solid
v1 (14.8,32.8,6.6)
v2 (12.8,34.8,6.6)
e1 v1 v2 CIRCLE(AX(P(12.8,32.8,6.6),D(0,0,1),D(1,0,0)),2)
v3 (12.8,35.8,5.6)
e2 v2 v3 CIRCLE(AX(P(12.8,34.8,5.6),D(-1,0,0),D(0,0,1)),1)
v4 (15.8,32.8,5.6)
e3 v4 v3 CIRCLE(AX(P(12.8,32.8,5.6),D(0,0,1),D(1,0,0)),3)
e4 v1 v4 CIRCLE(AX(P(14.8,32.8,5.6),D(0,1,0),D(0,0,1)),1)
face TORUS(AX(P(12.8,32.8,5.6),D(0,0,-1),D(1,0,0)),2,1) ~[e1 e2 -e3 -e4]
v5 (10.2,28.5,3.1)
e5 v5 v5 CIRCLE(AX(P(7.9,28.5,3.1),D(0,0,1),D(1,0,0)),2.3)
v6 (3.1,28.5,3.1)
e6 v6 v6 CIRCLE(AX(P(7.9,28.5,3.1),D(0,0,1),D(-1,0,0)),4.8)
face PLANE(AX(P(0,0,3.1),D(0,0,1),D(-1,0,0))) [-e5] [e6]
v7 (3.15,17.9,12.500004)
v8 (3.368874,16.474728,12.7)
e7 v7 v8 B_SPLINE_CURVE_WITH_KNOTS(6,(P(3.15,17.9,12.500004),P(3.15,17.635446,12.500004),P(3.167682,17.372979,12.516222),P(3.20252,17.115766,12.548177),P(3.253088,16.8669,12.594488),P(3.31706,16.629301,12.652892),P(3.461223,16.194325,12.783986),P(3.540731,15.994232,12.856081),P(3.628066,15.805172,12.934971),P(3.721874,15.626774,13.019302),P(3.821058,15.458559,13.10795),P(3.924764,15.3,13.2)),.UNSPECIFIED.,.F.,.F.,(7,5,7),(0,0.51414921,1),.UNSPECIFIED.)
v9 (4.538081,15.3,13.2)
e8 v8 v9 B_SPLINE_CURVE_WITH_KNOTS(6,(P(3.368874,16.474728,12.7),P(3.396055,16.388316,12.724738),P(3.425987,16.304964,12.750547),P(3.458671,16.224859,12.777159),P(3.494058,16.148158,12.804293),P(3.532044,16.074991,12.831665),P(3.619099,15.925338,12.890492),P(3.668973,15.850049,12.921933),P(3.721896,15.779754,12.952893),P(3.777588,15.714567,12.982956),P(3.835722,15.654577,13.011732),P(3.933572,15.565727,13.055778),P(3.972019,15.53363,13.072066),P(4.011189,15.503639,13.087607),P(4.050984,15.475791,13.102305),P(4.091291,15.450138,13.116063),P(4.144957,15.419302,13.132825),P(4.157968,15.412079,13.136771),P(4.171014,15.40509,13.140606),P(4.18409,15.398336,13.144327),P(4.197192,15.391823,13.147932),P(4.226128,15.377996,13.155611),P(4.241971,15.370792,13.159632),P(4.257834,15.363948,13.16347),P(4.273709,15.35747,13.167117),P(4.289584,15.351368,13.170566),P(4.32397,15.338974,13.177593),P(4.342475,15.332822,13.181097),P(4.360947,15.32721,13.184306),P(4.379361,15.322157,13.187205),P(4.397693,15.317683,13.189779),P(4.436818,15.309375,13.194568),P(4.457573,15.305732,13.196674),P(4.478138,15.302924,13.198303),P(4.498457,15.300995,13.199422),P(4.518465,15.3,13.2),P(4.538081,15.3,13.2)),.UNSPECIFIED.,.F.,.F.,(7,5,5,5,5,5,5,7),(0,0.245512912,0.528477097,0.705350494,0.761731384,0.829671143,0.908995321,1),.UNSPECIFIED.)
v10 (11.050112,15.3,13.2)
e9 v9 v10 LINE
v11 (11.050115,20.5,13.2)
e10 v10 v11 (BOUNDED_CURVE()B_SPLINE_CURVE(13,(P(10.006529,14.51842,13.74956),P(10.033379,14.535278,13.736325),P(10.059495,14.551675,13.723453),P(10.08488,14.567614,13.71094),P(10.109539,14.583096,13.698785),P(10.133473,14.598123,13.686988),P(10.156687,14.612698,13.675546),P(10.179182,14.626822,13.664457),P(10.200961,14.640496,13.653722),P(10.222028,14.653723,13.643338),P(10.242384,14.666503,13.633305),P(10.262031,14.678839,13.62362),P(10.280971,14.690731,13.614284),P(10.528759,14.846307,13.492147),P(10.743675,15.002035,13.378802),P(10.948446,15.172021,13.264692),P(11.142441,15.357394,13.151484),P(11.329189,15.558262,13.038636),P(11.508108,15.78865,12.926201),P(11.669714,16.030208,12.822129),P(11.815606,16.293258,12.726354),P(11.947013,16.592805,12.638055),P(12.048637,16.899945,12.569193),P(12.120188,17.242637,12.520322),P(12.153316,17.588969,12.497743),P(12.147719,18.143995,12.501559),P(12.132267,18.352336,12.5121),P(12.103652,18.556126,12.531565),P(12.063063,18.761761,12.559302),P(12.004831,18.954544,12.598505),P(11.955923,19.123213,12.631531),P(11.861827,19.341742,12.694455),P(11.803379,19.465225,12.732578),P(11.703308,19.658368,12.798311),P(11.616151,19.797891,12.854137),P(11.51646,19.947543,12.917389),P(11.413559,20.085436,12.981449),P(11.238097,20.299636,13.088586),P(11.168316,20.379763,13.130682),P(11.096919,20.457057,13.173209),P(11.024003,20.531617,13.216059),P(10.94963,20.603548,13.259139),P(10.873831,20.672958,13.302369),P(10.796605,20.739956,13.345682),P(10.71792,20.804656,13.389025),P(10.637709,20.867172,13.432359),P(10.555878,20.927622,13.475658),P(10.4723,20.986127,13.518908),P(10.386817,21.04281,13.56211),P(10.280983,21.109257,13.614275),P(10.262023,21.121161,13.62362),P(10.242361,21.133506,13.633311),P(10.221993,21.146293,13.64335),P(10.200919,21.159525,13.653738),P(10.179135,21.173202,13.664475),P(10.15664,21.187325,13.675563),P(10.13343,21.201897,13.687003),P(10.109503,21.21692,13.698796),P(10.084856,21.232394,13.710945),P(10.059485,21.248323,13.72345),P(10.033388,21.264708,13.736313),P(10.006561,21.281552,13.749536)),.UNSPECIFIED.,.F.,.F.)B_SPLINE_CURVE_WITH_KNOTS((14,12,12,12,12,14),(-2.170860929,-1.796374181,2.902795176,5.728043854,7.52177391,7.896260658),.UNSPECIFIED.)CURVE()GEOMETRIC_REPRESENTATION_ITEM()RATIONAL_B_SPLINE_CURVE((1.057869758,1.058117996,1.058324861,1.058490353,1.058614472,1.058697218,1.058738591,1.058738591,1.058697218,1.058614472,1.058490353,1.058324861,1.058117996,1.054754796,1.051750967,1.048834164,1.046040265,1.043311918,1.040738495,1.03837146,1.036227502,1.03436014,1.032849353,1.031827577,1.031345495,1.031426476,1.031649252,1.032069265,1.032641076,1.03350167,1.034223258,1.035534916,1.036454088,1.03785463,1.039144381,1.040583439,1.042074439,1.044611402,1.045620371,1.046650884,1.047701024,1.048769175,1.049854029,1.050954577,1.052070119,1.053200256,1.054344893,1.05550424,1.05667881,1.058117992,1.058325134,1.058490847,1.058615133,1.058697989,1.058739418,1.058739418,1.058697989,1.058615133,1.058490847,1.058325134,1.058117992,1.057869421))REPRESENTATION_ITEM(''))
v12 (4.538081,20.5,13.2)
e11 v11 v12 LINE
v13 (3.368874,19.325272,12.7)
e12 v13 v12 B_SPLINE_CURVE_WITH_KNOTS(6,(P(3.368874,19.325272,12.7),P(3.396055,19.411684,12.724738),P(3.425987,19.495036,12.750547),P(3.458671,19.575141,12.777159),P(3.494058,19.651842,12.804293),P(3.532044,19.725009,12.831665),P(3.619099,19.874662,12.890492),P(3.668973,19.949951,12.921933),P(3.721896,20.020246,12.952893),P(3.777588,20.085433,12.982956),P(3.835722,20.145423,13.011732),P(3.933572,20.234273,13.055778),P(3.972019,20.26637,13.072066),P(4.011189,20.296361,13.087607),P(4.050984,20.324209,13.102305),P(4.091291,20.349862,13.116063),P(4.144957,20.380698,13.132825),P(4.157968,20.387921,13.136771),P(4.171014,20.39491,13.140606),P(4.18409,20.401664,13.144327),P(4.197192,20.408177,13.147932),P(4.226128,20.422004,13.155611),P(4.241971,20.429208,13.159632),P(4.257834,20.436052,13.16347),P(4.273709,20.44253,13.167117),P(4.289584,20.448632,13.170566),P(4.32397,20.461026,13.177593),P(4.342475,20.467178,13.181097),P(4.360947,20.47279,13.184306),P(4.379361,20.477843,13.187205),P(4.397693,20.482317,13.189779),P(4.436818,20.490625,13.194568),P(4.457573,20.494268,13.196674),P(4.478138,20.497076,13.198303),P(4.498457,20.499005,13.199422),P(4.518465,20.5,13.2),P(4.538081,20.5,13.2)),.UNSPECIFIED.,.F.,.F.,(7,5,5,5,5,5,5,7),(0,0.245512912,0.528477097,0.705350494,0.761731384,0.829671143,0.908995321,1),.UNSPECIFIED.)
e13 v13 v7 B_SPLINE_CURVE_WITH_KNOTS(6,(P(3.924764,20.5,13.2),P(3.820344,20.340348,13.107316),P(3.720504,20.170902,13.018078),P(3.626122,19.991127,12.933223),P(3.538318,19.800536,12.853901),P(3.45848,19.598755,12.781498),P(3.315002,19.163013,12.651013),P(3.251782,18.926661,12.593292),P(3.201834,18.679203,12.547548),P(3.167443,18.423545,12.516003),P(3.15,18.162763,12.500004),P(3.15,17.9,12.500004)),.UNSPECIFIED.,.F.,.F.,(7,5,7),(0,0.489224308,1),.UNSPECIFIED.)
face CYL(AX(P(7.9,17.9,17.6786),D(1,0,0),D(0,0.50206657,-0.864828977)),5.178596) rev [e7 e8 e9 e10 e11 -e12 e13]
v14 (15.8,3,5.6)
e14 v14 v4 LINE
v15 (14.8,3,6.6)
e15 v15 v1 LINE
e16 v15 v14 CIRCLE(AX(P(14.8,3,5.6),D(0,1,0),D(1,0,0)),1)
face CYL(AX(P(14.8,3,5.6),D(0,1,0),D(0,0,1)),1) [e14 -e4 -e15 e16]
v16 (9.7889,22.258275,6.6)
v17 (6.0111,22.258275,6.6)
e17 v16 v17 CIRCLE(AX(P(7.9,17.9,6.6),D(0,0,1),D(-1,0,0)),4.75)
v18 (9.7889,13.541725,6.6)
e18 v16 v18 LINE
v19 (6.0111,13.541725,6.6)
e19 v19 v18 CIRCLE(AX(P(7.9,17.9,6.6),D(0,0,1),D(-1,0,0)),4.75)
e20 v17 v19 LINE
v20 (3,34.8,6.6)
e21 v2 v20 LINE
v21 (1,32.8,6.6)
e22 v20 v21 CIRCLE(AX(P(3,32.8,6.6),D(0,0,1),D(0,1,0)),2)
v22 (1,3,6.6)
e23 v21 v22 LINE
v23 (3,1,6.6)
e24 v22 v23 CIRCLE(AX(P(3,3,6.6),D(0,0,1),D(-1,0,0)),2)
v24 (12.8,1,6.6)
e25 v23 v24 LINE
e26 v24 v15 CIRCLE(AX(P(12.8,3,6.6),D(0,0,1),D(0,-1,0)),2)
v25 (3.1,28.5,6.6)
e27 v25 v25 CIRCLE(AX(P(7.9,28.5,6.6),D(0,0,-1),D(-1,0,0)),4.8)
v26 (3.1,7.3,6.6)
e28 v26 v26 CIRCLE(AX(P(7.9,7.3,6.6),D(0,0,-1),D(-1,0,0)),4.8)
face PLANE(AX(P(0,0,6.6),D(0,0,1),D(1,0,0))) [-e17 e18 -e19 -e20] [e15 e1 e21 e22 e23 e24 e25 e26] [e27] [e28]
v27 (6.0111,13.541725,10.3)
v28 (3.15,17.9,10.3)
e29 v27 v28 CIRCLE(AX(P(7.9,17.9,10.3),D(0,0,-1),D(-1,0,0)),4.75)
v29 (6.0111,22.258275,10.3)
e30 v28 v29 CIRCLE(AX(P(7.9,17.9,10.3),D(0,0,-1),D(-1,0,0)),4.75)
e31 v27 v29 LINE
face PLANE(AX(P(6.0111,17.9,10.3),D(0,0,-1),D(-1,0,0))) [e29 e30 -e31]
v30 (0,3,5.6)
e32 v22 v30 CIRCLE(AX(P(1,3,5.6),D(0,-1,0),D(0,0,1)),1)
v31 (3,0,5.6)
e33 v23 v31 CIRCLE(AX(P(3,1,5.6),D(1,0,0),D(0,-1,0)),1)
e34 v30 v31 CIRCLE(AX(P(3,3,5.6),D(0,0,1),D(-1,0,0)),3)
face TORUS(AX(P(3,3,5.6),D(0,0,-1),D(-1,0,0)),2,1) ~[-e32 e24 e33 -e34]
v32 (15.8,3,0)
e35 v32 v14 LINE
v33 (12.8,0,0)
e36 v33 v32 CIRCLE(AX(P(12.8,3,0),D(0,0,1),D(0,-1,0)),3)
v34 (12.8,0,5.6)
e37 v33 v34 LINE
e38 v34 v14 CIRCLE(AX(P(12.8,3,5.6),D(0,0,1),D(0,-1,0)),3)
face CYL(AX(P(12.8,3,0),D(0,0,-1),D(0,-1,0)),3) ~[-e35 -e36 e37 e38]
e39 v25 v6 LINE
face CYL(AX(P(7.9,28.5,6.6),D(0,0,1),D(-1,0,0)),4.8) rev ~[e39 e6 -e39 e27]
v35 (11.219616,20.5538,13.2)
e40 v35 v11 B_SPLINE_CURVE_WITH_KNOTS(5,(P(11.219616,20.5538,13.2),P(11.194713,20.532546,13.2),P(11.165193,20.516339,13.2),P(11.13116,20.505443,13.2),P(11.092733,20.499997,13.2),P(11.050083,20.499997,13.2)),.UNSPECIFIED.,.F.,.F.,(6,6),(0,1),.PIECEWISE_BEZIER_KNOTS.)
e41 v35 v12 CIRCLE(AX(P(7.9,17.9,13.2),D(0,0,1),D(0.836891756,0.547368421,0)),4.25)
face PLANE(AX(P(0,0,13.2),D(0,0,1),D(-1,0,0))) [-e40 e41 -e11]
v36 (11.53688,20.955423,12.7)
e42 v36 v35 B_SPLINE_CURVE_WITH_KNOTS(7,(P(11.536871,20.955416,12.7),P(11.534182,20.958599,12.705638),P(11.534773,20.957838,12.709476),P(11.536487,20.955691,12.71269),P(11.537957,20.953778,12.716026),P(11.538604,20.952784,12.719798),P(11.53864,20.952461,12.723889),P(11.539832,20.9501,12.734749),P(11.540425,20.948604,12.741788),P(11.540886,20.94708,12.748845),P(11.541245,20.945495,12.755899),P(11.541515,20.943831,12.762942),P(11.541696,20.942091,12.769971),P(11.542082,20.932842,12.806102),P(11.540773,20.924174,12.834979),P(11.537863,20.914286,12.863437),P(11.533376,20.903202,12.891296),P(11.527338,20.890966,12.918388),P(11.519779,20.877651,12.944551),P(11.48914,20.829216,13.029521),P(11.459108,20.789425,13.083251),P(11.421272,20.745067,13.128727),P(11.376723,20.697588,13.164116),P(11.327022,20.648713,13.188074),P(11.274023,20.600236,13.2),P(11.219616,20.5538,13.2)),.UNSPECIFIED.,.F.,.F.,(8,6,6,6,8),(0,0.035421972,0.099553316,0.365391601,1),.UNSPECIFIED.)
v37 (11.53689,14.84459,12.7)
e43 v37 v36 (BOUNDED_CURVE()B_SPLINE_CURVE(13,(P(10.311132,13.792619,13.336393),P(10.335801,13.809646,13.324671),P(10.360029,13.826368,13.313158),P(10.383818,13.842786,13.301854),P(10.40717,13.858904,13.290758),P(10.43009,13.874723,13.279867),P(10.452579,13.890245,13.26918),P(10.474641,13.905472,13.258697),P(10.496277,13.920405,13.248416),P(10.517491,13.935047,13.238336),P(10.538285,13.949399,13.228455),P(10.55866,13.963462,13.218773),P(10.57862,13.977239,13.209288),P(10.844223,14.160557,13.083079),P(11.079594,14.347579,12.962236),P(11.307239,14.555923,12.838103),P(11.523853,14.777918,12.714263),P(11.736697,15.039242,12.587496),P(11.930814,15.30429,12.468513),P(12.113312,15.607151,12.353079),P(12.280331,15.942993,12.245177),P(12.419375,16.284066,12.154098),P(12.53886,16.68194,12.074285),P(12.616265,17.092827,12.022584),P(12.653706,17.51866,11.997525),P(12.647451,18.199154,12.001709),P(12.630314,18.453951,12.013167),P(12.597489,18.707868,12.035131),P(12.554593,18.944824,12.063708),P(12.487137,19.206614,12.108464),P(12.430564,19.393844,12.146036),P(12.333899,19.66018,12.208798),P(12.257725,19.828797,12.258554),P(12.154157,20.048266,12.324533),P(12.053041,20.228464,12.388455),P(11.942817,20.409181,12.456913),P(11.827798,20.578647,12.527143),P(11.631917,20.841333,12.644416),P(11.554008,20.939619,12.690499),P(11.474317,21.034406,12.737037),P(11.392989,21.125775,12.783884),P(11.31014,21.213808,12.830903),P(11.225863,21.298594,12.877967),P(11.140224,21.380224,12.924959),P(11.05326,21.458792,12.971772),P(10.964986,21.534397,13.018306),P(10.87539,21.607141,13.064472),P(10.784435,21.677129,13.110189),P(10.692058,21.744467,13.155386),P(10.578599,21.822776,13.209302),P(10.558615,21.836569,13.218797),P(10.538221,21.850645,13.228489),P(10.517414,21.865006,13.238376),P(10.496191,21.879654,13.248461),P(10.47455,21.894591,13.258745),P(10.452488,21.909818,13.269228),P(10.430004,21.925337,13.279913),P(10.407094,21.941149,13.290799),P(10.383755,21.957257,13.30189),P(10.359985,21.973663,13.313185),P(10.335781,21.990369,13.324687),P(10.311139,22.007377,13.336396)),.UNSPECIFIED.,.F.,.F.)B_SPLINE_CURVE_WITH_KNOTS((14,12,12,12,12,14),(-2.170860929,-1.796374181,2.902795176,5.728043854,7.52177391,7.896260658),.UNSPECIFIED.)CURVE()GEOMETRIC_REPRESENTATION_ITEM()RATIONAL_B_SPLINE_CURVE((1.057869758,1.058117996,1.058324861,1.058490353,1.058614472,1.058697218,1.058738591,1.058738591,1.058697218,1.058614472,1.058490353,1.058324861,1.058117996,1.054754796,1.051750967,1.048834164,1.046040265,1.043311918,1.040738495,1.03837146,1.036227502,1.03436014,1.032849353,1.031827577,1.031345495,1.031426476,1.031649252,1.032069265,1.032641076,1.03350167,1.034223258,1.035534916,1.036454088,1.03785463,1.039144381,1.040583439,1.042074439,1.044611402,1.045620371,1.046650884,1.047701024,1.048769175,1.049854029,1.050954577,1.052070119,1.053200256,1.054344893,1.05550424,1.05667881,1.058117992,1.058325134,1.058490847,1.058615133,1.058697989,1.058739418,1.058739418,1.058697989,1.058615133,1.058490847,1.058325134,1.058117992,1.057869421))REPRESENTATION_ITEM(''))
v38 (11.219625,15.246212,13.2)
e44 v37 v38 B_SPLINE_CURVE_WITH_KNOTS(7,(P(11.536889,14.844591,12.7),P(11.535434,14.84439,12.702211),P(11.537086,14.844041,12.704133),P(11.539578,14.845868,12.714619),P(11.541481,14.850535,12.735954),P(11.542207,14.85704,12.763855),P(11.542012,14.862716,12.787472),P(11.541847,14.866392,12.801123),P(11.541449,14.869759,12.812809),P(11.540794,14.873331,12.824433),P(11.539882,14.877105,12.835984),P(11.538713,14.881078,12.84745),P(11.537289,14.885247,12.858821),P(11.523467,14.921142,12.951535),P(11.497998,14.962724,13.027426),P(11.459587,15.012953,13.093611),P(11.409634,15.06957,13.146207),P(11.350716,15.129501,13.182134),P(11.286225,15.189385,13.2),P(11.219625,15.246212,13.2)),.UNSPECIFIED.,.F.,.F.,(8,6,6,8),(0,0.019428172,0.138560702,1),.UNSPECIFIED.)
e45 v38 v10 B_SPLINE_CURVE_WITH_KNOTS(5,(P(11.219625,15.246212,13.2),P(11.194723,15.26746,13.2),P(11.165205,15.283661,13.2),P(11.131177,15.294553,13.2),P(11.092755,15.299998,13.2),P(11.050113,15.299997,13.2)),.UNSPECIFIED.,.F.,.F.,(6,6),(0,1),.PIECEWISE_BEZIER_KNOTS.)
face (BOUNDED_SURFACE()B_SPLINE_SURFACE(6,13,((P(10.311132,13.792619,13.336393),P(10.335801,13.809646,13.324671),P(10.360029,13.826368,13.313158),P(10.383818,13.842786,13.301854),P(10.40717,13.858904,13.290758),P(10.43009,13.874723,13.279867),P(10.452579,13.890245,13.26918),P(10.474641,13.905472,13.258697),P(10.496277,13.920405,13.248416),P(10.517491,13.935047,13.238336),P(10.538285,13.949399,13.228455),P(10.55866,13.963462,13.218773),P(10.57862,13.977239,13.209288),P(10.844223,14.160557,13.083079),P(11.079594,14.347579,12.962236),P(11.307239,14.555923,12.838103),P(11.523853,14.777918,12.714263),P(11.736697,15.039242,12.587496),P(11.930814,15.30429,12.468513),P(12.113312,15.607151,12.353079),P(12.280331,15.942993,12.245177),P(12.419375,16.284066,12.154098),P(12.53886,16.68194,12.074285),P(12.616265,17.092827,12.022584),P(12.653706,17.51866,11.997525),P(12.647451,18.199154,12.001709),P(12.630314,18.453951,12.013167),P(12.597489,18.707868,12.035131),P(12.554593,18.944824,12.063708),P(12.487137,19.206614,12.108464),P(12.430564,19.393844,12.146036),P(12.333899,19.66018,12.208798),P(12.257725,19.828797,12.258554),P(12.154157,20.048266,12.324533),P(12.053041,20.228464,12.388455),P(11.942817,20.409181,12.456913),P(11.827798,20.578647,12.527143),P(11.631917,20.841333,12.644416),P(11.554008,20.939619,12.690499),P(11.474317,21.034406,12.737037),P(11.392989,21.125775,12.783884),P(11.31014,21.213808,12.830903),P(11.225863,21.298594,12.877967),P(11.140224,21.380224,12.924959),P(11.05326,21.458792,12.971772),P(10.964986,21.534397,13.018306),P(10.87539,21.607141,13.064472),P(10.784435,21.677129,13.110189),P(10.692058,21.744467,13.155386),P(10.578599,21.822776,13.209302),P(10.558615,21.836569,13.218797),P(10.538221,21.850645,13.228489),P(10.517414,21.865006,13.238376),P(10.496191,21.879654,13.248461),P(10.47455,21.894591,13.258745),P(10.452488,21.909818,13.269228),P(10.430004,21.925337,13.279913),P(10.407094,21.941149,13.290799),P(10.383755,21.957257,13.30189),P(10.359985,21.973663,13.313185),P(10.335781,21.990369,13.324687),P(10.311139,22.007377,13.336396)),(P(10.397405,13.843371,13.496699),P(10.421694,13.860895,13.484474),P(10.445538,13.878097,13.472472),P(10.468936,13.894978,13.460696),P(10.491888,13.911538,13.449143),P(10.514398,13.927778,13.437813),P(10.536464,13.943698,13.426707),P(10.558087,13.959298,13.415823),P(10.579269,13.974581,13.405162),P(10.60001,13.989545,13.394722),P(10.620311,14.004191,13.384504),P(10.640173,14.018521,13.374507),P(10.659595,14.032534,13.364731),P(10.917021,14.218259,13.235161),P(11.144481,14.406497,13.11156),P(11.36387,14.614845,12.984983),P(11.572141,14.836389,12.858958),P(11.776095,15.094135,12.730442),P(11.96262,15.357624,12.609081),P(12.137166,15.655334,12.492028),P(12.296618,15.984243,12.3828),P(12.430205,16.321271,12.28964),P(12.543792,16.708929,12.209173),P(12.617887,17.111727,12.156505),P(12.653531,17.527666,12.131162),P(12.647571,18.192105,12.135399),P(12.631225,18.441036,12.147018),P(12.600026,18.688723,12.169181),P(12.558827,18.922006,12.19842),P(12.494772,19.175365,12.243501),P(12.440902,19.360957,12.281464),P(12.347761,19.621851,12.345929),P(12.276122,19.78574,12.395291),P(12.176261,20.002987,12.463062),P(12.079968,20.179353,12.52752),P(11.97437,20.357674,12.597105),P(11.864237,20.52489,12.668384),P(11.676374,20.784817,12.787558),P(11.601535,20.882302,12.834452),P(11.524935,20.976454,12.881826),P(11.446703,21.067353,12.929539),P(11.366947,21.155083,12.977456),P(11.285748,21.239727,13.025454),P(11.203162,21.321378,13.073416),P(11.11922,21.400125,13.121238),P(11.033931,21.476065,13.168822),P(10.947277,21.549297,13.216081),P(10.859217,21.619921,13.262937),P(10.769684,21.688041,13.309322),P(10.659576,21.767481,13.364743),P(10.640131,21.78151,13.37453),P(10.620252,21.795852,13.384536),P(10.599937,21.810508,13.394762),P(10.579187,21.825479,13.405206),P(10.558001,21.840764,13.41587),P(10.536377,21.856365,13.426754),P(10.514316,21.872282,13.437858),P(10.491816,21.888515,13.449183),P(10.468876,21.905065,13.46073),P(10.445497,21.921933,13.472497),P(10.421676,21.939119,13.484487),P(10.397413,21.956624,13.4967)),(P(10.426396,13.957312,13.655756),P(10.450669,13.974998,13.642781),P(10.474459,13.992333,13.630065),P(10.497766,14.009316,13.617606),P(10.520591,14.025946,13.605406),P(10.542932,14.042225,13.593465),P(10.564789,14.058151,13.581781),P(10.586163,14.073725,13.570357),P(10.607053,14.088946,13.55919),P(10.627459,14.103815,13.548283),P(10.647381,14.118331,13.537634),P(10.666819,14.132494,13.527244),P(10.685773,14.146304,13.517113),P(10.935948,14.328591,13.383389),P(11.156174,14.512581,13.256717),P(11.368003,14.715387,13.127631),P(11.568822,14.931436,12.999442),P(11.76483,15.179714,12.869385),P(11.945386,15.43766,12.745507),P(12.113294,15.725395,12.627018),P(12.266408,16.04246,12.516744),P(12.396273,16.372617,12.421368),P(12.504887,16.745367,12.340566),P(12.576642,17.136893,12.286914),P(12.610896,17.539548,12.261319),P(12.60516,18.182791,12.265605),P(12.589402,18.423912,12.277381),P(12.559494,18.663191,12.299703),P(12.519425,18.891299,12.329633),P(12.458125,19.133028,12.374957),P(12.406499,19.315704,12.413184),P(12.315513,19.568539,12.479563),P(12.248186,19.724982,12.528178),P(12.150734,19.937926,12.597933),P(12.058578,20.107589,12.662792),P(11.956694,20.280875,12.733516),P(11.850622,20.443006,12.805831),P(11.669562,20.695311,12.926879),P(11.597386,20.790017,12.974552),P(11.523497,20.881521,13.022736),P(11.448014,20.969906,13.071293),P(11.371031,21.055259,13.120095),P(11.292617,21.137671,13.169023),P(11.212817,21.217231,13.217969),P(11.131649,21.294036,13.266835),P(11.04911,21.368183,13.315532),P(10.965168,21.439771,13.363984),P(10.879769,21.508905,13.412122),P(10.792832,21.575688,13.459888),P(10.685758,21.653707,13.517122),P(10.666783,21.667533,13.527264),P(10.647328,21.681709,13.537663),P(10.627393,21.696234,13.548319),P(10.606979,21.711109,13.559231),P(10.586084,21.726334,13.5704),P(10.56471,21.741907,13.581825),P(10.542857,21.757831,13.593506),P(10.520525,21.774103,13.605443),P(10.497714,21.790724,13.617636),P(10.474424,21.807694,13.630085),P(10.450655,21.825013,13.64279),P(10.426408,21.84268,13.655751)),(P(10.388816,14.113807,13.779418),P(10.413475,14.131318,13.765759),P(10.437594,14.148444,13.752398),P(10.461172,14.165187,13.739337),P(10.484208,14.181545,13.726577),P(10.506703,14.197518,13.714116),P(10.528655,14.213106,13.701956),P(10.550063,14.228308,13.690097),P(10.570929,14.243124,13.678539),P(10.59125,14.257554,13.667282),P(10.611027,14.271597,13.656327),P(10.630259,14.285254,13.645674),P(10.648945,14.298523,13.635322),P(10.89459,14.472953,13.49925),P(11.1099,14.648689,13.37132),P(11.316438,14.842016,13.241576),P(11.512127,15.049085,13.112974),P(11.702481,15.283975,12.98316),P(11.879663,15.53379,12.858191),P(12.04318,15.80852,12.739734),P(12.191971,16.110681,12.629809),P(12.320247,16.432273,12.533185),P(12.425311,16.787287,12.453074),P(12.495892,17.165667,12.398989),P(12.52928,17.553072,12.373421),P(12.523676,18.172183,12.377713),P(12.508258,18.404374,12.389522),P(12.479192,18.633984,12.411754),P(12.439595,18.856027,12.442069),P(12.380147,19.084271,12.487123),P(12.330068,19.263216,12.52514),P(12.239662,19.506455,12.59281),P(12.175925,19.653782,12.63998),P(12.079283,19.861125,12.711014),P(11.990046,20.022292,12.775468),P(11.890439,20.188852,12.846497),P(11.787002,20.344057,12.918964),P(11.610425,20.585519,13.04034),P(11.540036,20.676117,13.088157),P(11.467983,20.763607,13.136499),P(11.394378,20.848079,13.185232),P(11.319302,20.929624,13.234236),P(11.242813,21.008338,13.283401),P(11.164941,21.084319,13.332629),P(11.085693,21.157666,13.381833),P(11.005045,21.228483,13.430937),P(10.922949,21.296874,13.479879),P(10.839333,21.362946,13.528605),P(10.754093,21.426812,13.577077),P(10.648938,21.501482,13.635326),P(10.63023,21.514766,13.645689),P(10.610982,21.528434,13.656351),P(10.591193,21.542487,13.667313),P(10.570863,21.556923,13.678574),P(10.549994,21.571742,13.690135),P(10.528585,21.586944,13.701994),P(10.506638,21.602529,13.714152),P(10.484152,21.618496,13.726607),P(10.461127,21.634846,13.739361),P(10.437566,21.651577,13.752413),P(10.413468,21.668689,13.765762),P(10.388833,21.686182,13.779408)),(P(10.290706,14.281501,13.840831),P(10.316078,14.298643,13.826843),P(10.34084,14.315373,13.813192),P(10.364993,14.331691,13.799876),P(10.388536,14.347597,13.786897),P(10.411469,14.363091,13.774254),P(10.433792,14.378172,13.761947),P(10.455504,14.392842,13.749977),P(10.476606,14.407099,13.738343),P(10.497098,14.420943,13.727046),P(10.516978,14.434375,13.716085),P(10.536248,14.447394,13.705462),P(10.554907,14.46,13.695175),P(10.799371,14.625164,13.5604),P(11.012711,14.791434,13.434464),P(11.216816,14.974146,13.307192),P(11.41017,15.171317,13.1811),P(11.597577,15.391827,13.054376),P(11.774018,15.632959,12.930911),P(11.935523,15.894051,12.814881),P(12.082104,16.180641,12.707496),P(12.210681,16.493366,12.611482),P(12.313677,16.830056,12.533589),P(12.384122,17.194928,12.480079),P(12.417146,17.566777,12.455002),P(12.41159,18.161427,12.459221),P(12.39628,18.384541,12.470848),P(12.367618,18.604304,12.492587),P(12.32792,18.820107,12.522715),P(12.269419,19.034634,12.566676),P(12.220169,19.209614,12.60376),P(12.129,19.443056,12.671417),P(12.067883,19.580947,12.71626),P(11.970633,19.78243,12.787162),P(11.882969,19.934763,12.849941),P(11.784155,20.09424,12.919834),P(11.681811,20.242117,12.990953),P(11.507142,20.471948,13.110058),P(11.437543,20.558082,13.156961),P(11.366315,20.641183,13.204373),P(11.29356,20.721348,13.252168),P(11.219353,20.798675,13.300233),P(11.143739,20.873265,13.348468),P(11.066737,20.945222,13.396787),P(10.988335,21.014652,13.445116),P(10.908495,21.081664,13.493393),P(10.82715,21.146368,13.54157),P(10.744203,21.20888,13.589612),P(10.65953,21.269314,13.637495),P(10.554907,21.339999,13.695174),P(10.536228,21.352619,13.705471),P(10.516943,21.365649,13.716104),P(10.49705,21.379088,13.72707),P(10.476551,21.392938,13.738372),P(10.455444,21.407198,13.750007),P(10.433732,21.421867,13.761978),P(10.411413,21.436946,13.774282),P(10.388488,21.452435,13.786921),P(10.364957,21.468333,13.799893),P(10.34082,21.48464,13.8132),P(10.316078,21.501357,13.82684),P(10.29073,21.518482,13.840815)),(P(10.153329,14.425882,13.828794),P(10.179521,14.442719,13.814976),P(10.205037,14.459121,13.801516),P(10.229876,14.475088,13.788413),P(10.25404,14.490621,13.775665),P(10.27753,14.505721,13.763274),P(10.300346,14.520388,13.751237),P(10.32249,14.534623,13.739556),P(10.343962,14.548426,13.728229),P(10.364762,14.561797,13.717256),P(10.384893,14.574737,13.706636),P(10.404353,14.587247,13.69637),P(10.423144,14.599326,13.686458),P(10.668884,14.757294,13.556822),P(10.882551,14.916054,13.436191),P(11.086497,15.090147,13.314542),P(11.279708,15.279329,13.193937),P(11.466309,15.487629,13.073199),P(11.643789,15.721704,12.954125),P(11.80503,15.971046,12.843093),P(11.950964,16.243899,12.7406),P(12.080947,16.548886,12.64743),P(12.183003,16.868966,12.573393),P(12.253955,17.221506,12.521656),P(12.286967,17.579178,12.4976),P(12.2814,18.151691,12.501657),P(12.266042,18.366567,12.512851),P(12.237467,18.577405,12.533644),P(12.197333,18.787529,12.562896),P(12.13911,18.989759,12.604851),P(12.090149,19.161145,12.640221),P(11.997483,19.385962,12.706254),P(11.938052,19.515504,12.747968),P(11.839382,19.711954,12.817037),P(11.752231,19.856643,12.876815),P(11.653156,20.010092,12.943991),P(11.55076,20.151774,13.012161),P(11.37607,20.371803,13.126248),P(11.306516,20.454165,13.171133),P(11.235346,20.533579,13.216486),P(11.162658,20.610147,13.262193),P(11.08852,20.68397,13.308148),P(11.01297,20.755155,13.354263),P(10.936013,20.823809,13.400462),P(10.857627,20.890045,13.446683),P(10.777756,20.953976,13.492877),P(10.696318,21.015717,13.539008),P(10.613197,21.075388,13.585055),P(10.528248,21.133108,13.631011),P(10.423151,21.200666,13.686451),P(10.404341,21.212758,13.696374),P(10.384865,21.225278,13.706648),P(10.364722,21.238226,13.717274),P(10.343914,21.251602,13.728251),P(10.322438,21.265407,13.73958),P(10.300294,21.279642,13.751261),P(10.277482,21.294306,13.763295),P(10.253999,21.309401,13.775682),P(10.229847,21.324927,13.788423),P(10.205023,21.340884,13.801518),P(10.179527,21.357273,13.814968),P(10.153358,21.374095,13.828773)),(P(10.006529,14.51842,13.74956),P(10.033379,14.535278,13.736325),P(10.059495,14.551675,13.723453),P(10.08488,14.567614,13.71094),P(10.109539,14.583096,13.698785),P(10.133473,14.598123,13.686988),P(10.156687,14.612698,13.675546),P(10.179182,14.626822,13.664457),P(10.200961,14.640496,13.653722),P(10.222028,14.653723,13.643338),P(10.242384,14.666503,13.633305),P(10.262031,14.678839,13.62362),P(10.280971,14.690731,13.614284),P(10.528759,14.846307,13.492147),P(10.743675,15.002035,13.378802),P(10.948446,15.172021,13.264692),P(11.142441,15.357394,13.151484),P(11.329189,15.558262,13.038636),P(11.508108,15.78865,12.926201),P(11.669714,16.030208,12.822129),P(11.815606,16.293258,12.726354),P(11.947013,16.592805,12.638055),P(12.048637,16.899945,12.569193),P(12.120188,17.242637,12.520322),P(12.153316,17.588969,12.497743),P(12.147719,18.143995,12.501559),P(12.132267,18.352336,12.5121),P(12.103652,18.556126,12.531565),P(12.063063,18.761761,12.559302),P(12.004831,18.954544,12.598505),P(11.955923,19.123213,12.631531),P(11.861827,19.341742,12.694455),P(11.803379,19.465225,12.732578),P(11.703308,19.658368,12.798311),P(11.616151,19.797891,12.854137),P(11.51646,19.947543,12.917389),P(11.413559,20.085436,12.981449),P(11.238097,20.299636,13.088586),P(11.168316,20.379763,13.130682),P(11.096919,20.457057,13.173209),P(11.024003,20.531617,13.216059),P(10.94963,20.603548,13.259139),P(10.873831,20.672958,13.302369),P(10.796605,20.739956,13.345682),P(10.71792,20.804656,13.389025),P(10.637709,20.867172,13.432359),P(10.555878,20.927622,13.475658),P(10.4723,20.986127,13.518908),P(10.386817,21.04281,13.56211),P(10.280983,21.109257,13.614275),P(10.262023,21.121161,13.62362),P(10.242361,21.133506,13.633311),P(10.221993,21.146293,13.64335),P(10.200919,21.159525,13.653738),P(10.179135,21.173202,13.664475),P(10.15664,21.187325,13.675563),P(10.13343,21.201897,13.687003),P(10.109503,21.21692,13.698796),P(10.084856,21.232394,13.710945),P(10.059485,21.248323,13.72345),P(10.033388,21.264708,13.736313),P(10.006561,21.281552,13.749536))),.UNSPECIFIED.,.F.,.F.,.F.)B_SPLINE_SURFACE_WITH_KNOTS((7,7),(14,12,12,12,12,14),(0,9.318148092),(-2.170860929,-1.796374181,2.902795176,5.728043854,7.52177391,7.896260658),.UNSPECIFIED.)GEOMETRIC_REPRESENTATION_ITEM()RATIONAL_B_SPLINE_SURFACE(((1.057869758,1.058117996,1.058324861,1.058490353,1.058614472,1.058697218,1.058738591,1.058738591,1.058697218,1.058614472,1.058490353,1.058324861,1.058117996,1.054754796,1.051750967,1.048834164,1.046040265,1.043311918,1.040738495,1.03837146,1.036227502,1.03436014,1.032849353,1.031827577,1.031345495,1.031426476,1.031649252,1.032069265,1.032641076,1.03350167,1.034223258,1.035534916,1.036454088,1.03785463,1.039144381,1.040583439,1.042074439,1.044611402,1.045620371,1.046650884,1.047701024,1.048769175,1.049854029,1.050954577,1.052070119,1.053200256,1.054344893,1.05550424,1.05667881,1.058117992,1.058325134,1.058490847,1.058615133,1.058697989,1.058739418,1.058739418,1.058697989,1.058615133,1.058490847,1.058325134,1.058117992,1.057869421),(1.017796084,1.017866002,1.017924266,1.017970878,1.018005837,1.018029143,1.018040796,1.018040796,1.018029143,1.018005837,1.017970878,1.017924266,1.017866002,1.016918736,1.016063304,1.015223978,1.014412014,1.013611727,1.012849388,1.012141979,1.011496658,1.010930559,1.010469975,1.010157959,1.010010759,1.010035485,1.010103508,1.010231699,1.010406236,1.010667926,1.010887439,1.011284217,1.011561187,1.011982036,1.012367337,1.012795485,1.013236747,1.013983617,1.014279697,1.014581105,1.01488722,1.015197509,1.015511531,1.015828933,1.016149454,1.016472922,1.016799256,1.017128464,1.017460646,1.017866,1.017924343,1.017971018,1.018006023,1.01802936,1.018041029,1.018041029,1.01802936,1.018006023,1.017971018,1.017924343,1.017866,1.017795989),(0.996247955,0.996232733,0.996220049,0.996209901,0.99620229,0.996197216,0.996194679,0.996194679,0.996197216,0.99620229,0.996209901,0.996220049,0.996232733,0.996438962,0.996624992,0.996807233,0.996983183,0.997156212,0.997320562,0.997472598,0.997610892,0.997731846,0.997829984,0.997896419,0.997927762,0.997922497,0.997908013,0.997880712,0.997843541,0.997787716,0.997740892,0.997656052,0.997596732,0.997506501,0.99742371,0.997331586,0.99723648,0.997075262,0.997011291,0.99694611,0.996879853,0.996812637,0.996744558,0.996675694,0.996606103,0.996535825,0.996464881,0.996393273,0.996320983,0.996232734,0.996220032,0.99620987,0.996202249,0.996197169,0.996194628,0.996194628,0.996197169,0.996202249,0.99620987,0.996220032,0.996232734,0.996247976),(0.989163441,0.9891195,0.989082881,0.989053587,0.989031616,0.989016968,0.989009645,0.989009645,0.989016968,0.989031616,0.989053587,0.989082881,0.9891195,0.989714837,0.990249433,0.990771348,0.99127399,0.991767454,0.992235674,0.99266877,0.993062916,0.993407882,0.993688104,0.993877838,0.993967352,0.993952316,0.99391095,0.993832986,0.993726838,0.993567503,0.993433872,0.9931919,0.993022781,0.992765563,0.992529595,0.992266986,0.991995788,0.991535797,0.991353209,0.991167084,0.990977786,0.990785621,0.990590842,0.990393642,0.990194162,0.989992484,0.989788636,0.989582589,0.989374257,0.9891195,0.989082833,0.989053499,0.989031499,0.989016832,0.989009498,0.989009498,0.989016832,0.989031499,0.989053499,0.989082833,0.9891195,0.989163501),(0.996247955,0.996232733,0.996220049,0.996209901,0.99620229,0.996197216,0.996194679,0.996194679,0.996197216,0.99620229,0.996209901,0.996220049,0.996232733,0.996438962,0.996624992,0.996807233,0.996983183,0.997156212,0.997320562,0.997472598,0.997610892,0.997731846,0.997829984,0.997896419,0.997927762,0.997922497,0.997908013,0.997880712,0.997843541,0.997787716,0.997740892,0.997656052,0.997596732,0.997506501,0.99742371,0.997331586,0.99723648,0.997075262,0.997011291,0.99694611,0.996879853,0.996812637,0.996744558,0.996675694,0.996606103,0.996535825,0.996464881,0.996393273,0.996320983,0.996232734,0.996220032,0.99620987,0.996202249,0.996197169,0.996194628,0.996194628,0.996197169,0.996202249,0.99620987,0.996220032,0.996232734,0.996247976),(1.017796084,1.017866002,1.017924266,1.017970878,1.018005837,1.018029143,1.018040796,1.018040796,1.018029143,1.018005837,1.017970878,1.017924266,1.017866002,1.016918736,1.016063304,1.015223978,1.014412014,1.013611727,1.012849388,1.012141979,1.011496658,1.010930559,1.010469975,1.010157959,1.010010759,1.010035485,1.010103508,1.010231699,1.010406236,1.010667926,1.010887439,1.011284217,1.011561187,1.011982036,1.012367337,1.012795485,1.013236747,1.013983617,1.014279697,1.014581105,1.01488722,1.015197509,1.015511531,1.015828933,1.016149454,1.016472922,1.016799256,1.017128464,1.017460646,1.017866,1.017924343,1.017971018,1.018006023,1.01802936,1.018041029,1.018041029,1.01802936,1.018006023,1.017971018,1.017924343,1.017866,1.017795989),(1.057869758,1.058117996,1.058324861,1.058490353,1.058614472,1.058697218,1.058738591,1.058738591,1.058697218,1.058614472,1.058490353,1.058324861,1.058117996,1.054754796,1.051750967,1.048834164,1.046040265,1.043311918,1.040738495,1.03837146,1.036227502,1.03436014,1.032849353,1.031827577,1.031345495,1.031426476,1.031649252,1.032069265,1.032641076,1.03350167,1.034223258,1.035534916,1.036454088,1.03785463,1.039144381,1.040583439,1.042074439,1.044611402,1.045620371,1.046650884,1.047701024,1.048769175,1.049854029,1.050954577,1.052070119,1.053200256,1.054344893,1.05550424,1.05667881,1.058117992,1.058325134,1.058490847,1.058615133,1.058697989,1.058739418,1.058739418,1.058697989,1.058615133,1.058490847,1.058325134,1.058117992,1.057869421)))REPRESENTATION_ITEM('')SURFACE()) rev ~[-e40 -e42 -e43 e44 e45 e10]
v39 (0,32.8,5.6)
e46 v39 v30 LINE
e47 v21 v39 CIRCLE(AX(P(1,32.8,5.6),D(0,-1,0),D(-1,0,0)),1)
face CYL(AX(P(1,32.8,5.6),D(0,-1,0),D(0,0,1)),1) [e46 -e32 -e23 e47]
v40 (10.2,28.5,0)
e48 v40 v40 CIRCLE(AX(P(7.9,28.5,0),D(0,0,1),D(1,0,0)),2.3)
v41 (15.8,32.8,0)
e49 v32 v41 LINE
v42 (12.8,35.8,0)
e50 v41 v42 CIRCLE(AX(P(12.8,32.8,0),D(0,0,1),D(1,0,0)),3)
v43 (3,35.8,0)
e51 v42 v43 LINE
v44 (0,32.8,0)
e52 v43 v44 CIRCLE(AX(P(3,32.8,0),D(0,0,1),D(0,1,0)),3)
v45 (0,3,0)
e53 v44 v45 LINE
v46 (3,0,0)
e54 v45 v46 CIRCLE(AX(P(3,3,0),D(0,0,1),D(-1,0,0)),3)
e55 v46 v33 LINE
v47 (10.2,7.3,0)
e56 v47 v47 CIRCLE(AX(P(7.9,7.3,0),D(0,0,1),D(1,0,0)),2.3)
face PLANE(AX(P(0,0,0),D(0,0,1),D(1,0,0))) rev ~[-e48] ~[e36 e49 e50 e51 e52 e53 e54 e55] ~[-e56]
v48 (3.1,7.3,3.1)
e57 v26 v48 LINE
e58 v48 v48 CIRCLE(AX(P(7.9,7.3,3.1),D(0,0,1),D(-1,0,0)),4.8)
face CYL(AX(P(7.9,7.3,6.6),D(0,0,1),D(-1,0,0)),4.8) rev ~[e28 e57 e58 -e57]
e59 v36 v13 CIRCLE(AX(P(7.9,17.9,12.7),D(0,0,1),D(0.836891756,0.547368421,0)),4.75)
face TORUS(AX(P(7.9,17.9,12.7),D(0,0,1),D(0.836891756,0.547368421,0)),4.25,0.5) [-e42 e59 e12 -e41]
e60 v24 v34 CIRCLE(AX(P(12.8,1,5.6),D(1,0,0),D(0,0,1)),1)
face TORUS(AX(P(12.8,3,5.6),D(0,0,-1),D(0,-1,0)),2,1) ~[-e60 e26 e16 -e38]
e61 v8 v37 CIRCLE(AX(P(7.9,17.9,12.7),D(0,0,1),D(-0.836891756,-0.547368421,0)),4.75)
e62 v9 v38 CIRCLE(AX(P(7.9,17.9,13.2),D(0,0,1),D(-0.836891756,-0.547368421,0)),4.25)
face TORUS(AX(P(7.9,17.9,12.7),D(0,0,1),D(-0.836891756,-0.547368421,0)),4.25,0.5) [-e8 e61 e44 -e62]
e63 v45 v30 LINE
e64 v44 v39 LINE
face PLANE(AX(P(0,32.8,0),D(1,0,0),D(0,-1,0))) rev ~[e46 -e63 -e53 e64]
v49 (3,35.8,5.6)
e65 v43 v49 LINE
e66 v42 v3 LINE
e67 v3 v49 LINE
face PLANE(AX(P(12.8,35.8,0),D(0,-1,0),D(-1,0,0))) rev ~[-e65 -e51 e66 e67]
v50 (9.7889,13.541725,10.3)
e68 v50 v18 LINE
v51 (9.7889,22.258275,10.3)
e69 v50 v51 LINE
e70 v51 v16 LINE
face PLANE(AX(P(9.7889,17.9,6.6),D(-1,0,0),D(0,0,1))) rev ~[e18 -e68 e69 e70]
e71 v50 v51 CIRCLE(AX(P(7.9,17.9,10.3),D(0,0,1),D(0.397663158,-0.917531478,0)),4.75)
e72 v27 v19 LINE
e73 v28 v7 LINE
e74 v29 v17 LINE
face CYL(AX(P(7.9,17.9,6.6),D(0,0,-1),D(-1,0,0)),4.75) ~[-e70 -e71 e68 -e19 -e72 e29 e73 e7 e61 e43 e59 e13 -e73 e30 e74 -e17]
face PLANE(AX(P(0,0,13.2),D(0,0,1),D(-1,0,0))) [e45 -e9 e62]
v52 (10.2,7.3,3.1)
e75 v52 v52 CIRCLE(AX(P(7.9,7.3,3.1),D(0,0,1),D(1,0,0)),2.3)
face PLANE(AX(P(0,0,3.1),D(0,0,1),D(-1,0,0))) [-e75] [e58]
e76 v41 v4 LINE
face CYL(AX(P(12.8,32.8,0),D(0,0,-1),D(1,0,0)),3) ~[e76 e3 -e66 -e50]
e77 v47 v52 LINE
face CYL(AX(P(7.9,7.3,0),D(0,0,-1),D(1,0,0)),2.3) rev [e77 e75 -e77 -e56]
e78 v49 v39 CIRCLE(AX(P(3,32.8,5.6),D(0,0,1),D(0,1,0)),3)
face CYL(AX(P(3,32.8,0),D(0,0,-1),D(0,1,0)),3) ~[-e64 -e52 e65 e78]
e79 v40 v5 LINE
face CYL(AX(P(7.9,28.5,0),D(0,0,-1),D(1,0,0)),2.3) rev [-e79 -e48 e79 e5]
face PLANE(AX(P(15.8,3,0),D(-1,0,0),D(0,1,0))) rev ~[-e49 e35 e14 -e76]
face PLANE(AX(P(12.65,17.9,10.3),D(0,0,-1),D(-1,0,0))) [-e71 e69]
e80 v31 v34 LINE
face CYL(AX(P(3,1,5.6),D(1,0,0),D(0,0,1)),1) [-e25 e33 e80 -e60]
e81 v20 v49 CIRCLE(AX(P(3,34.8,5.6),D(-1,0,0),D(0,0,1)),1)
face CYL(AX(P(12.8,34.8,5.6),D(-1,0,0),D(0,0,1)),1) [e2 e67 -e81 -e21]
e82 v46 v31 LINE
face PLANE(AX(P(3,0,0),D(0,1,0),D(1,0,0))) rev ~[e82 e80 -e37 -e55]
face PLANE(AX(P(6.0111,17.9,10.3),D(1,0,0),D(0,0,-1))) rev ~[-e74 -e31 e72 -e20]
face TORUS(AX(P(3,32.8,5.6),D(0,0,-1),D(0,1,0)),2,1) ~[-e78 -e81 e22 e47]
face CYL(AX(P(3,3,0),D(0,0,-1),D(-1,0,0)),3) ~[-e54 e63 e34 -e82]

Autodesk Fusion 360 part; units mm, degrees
sketch "Sketch1" plane through (0, 0, 0) normal (0, 0, 1) x (1, 0, 0) in component "Component"
  line L0 (3, 0) -> (12.8, 0)
  line L1 (15.8, 3) -> (15.8, 32.8)
  line L2 (12.8, 35.8) -> (3, 35.8)
  line L3 (0, 32.8) -> (0, 3)
  circle A0 centre (7.9, 28.5) radius 2.3
  line L4 (7.9, 35.8) -> (7.9, 0) construction
  line L5 (0, 17.9) -> (15.8, 17.9) construction
  circle A1 centre (7.9, 7.3) radius 2.3
  arc A2 (12.8, 0) -> (15.8, 3) centre (12.8, 3) ccw
  arc A3 (0, 3) -> (3, 0) centre (3, 3) ccw
  arc A4 (3, 35.8) -> (0, 32.8) centre (3, 32.8) ccw
  arc A5 (15.8, 32.8) -> (12.8, 35.8) centre (12.8, 32.8) ccw
  point P0 (15.8, 0)
  point P1 (0, 35.8)
  dimension "d1" = 15.8
  dimension "d2" = 35.8
  dimension "d3" = 4.6
  dimension "d4" = 7.3
  dimension "d5" = 3
extrude "Extrude1" add sketch "Sketch1" along normal blind 6.6 in component "Component"
sketch "Sketch2" plane through (0, 0, 6.6) normal (0, 0, 1) x (-1, 0, 0) in component "Component"
  circle A0 centre (-7.9, -28.5) radius 2.3
  circle A1 centre (-7.9, -7.3) radius 2.3
  arc A2 (-15.8, -32.8) -> (-12.8, -35.8) centre (-12.8, -32.8) ccw
  line L0 (-12.8, -35.8) -> (-3, -35.8)
  arc A3 (-3, -35.8) -> (0, -32.8) centre (-3, -32.8) ccw
  line L1 (0, -32.8) -> (0, -3)
  arc A4 (0, -3) -> (-3, 0) centre (-3, -3) ccw
  line L2 (-3, 0) -> (-12.8, 0)
  arc A5 (-12.8, 0) -> (-15.8, -3) centre (-12.8, -3) ccw
  line L3 (-15.8, -3) -> (-15.8, -32.8)
  circle A6 centre (-7.9, -28.5) radius 4.8
  circle A7 centre (-7.9, -7.3) radius 4.8
  dimension "d8" = 9.6
  dimension "d9" = 9.6
extrude "Extrude2" cut sketch "Sketch2" against normal blind 3.5 contours A6 | A7 in component "Component"
sketch "Sketch3" plane through (0, 0, 6.6) normal (0, 0, 1) x (-1, 0, 0) in component "Component"
  circle A0 centre (-7.9, -28.5) radius 4.8
  circle A1 centre (-7.9, -7.3) radius 4.8
  arc A2 (-15.8, -32.8) -> (-12.8, -35.8) centre (-12.8, -32.8) ccw
  line L0 (-12.8, -35.8) -> (-3, -35.8)
  arc A3 (-3, -35.8) -> (0, -32.8) centre (-3, -32.8) ccw
  line L1 (0, -32.8) -> (0, -3)
  arc A4 (0, -3) -> (-3, 0) centre (-3, -3) ccw
  line L2 (-3, 0) -> (-12.8, 0)
  arc A5 (-12.8, 0) -> (-15.8, -3) centre (-12.8, -3) ccw
  line L3 (-15.8, -3) -> (-15.8, -32.8)
  line L4 (0, -17.9) -> (-15.8, -17.9) construction
  circle A6 centre (-7.9, -17.9) radius 4.75
  dimension "d12" = 9.5
extrude "Extrude3" add sketch "Sketch3" along normal blind 6.6 contours A6 in component "Component"
ref_plane "WorkPlane2" through (7.9, 17.9, 3.3) normal (0, -1, 0) x (1, 0, 0) in component "Component"
sketch "Sketch6" plane through (7.9, 17.9, 3.3) normal (0, -1, 0) x (1, 0, 0) in component "Component"
  line L0 (4.75, 9.9) -> (-4.75, 9.9)
  line L1 (-4.75, 3.3) -> (4.75, 3.3)
  line L2 (-4.75, 3.3) -> (4.75, 3.3)
  line L3 (4.75, 3.3) -> (4.75, 7)
  line L4 (4.75, 7) -> (-4.75, 7)
  line L5 (-4.75, 7) -> (-4.75, 3.3)
  line L6 (0, 3.3) -> (0, 7) construction
  line L7 (1.8889, 7) -> (-1.8889, 7)
  line L8 (-1.8889, 7) -> (-1.8889, 3.3)
  line L9 (-1.8889, 3.3) -> (1.8889, 3.3)
  line L10 (1.8889, 3.3) -> (1.8889, 7)
  line L11 (1.8889, 7) -> (-1.8889, 3.3) construction
  line L12 (-1.8889, 7) -> (1.8889, 3.3) construction
  point P0 (0, 5.15)
  dimension "d19" = 3.7
  dimension "d20" = 3.7777
extrude "Extrude4" cut sketch "Sketch6" along normal through all and the other way through all contours L1 L2 L4 L5 L8 | L1 L2 L3 L4 L10 in component "Component"
sketch "Sketch7" plane through (0, 0, 13.2) normal (0, 0, 1) x (-1, 0, 0) in component "Component"
  circle A0 centre (-7.9, -17.9) radius 4.75
  line L0 (-13.2651, -15.3) -> (-2.5349, -15.3)
  line L1 (-2.5349, -15.3) -> (-2.5349, -20.5)
  line L2 (-2.5349, -20.5) -> (-13.2651, -20.5)
  line L3 (-13.2651, -20.5) -> (-13.2651, -15.3)
  line L4 (-13.2651, -15.3) -> (-2.5349, -20.5) construction
  line L5 (-2.5349, -15.3) -> (-13.2651, -20.5) construction
  point P0 (-7.9, -17.9)
  dimension "d22" = 5.2
ref_plane "WorkPlane3" through (7.9, 17.9, 3.3) normal (-1, 0, 0) x (0, -1, 0) in component "Component"
sketch "Sketch8" plane through (7.9, 17.9, 3.3) normal (-1, 0, 0) x (0, 1, 0) in component "Component"
  line L0 (-3.8726, -9.2) -> (3.2614, -9.2) construction
  line L1 (2.6, -9.9) -> (-2.6, -9.9)
  line L2 (0, -9.9) -> (0, -9.2) construction
  arc A0 (2.6, -9.9) -> (-2.6, -9.9) centre (0, -14.3786) ccw
  point P0 (-2.6, -9.9)
  point P1 (2.6, -9.9)
  dimension "d23" = 0.7
extrude "Extrude5" cut sketch "Sketch8" along normal through all and the other way through all in component "Component"
fillet "Fillet1" radius 1 8 edges at (7.9, 35.8, 6.6) (0.8787, 34.9213, 6.6) (0, 17.9, 6.6) (0.8787, 0.8787, 6.6) (7.9, 0, 6.6) (14.9213, 0.8787, 6.6) (15.8, 17.9, 6.6) (14.9213, 34.9213, 6.6) in component "Component"
fillet "Fillet1" radius 0.5 2 edges at (7.9, 13.15, 13.2) (7.9, 22.65, 13.2) in component "Component"
fillet "Fillet1" radius 0.5 2 edges at (12.65, 17.9, 12.5) (3.15, 17.9, 12.5) in component "Component"
component "Component" placed x (1, 0, 0) y (0, 1, 0) z (0, 0, 1) at (0, 0, 0)
equation "d4 = 5 mm + ( 4.6 / 2 ) * 1 mm"
equation "peg_diameter = 9.5 mm"
